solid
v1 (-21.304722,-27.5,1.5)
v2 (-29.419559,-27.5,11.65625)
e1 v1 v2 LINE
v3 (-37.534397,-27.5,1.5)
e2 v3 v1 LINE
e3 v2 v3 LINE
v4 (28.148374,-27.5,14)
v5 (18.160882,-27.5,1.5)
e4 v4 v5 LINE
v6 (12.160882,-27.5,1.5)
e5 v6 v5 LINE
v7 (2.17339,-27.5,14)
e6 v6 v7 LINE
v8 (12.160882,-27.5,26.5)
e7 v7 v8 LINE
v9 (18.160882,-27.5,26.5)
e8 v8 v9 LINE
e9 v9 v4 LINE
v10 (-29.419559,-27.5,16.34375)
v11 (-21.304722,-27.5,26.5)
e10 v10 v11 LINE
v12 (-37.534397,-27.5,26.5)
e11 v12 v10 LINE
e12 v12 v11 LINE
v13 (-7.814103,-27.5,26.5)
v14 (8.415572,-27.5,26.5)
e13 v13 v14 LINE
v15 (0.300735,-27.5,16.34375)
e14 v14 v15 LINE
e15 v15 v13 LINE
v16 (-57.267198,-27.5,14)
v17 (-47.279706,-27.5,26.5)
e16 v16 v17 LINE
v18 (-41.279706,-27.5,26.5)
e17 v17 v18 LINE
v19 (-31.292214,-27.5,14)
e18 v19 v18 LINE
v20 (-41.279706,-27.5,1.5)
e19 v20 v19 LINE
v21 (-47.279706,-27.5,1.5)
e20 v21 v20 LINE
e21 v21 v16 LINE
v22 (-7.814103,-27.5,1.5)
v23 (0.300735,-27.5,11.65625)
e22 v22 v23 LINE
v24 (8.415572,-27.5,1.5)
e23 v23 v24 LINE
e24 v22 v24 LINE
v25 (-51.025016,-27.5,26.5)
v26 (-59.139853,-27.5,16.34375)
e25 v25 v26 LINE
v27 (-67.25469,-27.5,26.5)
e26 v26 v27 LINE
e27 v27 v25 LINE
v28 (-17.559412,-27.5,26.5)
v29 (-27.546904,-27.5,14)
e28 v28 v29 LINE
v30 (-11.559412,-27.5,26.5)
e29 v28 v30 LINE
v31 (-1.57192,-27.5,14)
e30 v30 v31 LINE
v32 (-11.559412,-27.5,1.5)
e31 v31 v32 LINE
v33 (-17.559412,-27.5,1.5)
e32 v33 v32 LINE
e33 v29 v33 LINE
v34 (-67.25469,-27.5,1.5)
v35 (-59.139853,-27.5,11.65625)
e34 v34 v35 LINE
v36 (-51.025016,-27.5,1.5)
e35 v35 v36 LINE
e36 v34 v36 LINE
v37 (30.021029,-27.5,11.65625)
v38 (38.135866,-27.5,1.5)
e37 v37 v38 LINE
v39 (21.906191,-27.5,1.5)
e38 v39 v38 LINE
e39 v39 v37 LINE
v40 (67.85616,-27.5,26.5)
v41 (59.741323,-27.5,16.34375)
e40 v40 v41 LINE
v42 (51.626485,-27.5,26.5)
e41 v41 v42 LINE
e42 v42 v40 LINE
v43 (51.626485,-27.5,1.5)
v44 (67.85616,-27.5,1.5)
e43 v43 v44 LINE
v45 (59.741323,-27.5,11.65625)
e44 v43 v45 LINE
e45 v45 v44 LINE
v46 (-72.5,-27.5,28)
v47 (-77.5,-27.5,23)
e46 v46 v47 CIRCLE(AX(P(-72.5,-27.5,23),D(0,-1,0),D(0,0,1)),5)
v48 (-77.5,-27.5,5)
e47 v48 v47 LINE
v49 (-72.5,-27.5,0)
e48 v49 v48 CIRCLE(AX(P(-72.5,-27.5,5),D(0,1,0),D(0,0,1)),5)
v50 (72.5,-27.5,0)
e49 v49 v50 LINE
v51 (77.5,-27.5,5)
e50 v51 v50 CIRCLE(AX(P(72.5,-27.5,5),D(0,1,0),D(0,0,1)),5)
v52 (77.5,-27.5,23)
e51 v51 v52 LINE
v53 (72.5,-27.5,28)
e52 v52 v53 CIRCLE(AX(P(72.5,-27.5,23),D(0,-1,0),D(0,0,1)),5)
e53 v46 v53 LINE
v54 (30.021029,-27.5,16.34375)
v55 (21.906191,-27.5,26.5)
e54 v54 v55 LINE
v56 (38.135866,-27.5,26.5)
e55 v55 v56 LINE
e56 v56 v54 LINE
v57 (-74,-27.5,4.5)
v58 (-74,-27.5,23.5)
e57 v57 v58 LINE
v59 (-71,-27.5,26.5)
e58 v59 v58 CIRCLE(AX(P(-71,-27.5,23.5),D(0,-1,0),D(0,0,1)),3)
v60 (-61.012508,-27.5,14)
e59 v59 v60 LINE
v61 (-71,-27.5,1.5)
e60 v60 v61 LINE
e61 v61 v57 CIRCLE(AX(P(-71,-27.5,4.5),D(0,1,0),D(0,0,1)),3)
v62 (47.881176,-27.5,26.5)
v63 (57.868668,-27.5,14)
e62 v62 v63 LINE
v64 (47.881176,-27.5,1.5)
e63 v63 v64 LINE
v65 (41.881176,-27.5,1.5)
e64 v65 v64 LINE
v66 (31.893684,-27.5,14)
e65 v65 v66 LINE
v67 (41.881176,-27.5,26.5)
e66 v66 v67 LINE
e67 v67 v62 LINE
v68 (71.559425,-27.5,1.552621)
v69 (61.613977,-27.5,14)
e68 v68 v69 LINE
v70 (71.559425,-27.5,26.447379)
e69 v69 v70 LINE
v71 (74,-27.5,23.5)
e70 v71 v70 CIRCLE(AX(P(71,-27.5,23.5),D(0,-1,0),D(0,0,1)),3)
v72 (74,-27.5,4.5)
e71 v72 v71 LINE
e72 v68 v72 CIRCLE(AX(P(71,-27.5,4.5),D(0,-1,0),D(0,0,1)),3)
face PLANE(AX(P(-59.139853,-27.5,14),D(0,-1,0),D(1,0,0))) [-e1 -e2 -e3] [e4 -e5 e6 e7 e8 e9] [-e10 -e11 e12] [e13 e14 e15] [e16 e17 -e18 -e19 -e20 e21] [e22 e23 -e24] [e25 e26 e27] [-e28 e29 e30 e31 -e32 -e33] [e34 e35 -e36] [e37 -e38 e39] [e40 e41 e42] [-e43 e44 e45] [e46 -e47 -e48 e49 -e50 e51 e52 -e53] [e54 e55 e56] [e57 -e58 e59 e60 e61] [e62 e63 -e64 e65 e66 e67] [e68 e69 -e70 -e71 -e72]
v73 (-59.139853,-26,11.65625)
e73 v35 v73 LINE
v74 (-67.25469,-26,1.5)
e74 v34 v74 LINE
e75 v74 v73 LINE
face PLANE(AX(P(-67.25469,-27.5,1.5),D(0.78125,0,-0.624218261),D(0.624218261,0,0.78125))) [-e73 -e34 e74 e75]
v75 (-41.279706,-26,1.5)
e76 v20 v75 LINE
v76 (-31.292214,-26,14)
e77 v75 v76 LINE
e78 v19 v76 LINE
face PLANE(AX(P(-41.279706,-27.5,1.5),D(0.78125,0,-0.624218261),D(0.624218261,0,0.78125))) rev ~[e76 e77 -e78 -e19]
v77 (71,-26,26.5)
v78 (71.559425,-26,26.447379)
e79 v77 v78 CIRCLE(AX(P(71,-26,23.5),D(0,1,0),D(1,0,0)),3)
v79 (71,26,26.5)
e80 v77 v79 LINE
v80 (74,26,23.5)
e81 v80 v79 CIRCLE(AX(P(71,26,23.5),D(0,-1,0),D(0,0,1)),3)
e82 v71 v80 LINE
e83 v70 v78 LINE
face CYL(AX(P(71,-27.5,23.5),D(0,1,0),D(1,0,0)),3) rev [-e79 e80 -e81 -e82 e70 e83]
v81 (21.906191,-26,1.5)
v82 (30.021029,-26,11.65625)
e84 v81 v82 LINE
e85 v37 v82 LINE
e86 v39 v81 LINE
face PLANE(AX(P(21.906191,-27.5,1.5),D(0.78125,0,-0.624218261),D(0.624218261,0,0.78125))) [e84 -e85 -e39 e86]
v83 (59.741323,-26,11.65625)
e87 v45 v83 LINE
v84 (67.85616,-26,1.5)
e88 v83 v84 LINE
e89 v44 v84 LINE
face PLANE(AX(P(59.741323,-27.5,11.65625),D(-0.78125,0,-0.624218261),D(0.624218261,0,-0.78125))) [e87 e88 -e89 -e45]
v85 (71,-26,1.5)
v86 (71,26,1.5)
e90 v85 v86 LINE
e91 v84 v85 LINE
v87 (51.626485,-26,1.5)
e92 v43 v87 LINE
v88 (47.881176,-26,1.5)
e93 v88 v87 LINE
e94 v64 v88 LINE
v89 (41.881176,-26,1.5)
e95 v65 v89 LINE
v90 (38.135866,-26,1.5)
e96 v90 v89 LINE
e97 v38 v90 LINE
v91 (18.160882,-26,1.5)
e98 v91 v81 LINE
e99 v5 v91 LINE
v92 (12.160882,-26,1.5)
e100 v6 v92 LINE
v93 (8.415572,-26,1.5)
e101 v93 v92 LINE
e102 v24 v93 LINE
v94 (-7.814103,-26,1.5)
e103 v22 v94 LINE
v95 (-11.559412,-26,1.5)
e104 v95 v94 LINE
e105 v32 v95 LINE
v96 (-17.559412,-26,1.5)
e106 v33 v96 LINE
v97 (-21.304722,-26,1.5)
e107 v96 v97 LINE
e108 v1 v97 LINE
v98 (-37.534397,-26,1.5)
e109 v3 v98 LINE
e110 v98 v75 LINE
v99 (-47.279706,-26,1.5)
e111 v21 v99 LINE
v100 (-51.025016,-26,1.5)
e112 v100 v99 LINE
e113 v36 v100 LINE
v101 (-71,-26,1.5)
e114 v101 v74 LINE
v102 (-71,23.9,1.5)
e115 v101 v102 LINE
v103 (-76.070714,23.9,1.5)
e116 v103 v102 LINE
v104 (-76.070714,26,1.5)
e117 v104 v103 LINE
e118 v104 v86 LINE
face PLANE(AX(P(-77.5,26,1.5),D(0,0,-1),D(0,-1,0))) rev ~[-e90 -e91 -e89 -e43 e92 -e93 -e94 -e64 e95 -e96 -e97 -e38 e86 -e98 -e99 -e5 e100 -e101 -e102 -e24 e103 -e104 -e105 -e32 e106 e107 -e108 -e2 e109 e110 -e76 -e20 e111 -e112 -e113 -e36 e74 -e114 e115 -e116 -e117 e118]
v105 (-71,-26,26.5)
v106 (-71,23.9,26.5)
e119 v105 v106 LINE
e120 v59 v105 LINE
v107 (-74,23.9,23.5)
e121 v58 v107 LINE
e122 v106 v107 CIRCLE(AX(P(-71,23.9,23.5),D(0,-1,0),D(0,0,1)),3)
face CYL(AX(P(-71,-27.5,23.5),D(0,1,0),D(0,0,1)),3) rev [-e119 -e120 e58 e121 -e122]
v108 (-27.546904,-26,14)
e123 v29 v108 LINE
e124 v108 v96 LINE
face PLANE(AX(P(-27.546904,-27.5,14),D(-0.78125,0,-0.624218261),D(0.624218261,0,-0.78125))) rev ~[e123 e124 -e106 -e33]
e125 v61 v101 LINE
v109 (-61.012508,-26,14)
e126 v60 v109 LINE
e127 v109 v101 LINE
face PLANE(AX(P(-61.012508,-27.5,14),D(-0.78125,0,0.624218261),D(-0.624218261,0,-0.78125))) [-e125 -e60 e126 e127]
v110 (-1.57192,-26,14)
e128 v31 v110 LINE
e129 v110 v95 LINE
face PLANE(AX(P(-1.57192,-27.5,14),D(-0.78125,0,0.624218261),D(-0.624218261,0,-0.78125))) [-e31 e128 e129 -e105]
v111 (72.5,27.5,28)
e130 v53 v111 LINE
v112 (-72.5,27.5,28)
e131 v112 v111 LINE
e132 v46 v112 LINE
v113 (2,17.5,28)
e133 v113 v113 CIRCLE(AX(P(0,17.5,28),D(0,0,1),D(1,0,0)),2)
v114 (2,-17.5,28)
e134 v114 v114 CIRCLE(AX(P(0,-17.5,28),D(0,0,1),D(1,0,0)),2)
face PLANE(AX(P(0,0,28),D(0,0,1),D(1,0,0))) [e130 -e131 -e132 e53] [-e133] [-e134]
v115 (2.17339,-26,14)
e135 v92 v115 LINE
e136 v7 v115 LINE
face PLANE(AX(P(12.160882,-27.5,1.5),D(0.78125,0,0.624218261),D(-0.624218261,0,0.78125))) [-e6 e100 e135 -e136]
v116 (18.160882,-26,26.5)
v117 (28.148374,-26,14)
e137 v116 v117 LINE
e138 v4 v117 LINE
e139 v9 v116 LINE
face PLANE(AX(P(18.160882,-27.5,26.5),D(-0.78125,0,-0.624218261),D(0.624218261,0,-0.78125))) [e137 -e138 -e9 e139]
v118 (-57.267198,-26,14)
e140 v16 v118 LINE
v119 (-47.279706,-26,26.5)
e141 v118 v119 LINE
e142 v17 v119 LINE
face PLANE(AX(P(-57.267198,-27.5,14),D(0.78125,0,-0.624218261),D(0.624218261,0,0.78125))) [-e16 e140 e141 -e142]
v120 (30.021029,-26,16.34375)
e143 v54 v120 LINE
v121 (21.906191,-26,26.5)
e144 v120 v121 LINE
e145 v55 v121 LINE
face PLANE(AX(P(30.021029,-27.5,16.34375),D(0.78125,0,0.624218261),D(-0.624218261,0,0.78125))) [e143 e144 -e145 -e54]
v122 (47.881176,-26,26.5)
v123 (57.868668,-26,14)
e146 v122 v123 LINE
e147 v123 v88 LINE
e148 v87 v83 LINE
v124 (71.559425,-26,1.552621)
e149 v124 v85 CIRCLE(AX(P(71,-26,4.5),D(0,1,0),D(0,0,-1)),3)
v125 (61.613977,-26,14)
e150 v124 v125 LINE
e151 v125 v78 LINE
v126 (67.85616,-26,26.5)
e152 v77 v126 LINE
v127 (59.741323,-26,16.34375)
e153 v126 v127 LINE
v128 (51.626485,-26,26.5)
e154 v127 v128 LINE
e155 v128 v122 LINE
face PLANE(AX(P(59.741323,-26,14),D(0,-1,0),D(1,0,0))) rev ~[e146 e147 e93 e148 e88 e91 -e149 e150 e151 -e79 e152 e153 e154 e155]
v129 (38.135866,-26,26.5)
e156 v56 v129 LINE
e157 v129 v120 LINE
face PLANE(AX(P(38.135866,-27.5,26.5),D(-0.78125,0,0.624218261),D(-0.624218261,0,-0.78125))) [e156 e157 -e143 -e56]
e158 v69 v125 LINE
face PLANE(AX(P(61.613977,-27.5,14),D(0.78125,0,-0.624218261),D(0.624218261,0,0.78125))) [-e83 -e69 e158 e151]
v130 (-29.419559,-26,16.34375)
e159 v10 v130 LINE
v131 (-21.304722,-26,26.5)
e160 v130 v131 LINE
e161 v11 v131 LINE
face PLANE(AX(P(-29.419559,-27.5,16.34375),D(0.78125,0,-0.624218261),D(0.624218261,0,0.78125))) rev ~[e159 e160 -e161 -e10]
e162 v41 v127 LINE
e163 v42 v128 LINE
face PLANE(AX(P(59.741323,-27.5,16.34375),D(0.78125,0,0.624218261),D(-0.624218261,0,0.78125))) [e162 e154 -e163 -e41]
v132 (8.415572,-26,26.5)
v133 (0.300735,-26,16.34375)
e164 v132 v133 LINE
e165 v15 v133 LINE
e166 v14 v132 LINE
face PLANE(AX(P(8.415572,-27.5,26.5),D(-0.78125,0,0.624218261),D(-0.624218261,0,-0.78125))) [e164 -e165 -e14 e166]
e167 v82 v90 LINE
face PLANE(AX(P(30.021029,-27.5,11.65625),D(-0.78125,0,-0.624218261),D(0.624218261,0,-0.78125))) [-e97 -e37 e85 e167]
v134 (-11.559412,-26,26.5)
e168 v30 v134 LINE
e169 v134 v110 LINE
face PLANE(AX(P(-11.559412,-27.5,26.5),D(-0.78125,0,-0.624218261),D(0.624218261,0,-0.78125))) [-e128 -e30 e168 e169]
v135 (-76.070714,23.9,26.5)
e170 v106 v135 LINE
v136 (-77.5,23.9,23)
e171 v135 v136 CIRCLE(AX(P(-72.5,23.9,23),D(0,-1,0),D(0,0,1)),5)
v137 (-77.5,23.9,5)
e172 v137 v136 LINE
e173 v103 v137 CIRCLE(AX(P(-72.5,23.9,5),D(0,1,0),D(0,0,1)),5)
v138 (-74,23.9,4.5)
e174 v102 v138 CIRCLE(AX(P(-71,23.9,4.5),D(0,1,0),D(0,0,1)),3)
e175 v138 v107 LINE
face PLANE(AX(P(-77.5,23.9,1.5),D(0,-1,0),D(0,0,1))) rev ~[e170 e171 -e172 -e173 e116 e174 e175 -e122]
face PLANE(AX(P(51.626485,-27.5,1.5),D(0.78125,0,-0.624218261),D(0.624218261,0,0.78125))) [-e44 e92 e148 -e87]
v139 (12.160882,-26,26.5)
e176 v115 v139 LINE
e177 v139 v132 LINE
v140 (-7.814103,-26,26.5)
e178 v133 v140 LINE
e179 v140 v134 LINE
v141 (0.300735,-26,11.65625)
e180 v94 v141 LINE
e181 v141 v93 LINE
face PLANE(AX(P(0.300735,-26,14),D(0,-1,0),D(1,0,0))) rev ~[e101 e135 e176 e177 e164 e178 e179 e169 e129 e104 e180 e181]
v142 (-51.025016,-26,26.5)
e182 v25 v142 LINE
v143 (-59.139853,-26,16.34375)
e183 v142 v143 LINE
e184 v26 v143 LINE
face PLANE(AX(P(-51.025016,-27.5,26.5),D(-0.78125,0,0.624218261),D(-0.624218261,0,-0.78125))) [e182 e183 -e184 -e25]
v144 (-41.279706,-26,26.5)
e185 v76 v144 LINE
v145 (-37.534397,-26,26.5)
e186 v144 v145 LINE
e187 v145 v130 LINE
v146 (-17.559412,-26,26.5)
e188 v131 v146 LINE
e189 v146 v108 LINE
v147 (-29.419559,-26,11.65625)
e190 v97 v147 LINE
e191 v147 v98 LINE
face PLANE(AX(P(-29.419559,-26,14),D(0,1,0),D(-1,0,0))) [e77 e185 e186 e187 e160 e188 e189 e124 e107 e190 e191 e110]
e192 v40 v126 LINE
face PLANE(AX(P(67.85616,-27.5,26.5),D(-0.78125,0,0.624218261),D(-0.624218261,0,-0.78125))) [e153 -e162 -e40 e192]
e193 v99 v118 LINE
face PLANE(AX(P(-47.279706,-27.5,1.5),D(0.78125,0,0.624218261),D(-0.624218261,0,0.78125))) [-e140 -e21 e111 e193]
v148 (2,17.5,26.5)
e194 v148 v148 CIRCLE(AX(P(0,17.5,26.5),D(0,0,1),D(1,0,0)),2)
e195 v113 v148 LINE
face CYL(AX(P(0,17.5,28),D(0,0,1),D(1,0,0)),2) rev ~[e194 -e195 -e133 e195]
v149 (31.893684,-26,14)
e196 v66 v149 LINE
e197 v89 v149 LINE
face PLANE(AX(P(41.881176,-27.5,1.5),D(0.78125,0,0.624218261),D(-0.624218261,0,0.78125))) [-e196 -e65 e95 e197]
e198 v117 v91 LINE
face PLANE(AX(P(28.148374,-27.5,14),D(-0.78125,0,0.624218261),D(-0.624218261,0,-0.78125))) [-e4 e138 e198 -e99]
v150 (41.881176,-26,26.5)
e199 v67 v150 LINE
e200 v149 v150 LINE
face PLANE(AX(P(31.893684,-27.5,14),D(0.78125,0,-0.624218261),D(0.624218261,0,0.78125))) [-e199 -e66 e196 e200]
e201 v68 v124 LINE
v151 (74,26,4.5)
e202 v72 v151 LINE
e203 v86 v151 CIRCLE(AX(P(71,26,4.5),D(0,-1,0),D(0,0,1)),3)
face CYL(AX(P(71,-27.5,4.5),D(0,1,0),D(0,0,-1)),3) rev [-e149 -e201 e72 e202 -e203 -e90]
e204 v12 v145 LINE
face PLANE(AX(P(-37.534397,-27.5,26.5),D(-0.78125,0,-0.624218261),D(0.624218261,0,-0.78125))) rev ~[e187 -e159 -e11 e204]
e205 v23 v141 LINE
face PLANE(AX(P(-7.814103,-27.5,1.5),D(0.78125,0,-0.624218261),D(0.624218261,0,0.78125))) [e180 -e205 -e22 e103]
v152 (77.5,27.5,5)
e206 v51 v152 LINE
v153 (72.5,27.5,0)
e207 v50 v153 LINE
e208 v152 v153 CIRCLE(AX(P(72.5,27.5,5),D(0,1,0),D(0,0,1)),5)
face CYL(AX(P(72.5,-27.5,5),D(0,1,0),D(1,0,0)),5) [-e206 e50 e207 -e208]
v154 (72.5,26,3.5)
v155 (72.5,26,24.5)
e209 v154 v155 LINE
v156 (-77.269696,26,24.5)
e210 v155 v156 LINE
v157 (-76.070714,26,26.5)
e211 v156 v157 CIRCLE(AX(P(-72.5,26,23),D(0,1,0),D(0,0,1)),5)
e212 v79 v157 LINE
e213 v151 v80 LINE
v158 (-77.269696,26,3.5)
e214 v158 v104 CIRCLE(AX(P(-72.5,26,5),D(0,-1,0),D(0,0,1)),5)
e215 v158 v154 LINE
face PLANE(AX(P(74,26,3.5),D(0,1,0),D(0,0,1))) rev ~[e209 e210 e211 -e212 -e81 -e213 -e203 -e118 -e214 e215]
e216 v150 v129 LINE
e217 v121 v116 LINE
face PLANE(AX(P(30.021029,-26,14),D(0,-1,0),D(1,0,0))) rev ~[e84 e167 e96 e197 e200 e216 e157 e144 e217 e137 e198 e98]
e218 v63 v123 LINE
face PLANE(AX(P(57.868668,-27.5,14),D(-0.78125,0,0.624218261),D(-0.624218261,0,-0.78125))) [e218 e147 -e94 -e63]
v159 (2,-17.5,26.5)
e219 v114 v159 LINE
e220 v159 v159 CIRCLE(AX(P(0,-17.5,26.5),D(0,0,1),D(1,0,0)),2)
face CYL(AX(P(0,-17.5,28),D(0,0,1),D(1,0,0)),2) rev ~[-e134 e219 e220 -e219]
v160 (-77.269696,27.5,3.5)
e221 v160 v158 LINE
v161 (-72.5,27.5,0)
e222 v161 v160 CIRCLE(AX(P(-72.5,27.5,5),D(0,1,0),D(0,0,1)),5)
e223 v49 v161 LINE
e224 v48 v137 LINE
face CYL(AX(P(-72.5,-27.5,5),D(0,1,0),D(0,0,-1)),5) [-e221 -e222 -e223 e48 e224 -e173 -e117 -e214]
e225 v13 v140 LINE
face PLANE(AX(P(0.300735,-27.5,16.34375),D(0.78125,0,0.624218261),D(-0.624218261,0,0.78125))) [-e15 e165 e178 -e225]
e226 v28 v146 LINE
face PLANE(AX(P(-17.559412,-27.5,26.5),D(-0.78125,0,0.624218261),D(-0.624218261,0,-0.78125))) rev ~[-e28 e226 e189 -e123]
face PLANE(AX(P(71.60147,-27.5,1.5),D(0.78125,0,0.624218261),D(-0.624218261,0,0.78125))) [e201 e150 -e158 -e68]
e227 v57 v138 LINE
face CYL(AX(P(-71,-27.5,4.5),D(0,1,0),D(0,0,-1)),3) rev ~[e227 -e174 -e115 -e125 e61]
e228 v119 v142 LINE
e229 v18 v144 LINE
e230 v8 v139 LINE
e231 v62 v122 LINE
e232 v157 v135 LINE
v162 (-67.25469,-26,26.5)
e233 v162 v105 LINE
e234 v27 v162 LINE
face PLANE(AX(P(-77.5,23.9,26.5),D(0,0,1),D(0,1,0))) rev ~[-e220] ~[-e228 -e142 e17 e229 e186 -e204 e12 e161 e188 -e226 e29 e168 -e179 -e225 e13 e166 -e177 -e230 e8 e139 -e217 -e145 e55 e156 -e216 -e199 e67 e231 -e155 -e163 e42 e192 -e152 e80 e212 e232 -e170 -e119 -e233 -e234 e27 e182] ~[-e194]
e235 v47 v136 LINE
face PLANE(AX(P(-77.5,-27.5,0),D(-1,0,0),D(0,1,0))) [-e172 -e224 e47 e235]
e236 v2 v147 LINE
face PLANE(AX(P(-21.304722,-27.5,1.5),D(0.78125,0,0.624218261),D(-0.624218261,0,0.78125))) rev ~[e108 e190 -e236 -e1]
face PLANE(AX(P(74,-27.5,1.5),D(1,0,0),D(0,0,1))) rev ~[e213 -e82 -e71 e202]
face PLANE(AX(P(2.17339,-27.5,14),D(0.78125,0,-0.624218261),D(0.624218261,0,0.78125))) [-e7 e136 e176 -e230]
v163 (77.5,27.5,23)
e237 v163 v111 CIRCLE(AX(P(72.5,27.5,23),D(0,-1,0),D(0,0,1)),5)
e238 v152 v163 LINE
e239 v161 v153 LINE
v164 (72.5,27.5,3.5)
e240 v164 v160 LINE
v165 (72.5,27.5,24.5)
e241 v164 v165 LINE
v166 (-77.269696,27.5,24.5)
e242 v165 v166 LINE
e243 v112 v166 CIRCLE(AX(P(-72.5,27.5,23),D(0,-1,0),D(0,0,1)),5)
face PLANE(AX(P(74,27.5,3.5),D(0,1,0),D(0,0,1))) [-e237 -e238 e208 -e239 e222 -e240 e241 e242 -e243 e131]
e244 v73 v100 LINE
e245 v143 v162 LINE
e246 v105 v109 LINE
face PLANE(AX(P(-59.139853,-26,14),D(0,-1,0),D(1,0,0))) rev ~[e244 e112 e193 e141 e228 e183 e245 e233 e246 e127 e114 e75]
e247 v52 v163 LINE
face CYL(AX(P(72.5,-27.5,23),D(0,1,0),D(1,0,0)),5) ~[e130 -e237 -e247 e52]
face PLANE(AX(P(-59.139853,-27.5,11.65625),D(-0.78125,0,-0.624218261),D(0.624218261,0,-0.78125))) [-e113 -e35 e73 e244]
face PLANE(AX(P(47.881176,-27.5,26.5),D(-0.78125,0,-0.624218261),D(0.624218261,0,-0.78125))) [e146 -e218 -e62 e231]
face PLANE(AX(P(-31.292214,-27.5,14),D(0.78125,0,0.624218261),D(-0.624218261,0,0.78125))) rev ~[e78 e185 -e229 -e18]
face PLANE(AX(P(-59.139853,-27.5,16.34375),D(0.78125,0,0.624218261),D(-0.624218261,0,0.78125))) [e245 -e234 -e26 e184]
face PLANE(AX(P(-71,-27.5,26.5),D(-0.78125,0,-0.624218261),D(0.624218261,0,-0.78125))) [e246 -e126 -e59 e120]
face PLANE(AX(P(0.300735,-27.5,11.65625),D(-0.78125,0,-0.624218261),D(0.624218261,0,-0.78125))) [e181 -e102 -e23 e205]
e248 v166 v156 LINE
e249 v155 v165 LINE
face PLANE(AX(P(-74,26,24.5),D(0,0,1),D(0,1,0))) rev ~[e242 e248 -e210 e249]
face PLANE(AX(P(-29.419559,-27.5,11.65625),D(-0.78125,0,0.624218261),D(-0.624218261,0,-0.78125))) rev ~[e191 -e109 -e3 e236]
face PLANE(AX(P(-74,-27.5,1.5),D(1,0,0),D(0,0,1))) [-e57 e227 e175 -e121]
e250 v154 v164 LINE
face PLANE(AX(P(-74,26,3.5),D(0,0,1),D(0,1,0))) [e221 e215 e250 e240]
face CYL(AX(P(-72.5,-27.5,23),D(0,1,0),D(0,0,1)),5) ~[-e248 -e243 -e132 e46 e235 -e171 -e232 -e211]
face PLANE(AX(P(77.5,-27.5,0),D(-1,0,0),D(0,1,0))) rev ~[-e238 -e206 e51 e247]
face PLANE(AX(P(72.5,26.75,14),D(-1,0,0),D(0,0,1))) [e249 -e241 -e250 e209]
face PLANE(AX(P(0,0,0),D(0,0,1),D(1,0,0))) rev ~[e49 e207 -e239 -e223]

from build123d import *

# Parameters (mm, degrees)
ESBO_O1_W                = 155
ESBO_O1_H                = 55
RESSALTO_EXTRUS_O1_DEPTH = 28
ESBO_O3_W                = 148
ESBO_O3_H                = 25
CORTE_EXTRUS_O1_DEPTH    = 100.071943556
CORTE_EXTRUS_O2_REACH    = 161.891
RESSALTO_EXTRUS_O2_REACH = 158.501
ESBO_O6_W                = 2
ESBO_O6_H                = 1.5
RESSALTO_EXTRUS_O3_REACH = 158.501
ESBO_O7_W                = 2
ESBO_O7_H                = 1.5
ESBO_O9_W                = 21
ESBO_O9_H                = 1.5
RESSALTO_EXTRUS_O4_DEPTH = 1.5
FILETE1_R                = 5
FILETE2_R                = 3
RESSALTO_EXTRUS_O5_DEPTH = 1.5
CORTE_EXTRUS_O5_REACH    = 88.871
ESBO_O15_R               = 2


with BuildPart() as part:
    # Esboço1 → Ressalto-extrusão1 (new body)
    with BuildSketch(Plane.XY):
        Rectangle(ESBO_O1_W, ESBO_O1_H)
    extrude(amount=RESSALTO_EXTRUS_O1_DEPTH)

    # Esboço3 → Corte-extrusão1 (cut, through all)
    with BuildSketch(Plane.XZ.offset(27.5)):
        with Locations((0, 14)):
            Rectangle(ESBO_O3_W, ESBO_O3_H)
    extrude(amount=-CORTE_EXTRUS_O1_DEPTH, mode=Mode.SUBTRACT)

    # Esboço4 → Corte-extrusão2 (cut, up to next)
    with BuildSketch(Plane.ZY.offset(77.5), mode=Mode.PRIVATE) as corte_extrus_o2_sk1:
        Polygon((3.5, 27.5), (3.5, 26), (1.5, 26), (1.5, 23.9), (26.5, 23.9), (26.5, 26), (24.5, 26), (24.5, 27.5), align=None)
    corte_extrus_o2_tool1 = extrude(corte_extrus_o2_sk1.sketch, amount=-CORTE_EXTRUS_O2_REACH, mode=Mode.PRIVATE) & part.part
    add(corte_extrus_o2_tool1.solids().sort_by_distance((-77.5, 25.625, 14))[0], mode=Mode.SUBTRACT)

    # Esboço6 → Ressalto-extrusão2 (add, up to next)
    with BuildSketch(Plane(origin=(-74, 0, 0), x_dir=(0, 0, -1), z_dir=(1, 0, 0)), mode=Mode.PRIVATE) as ressalto_extrus_o2_sk1:
        with Locations((-2.5, 26.75)):
            Rectangle(ESBO_O6_W, ESBO_O6_H)
    ressalto_extrus_o2_tool1 = extrude(ressalto_extrus_o2_sk1.sketch, amount=RESSALTO_EXTRUS_O2_REACH, mode=Mode.PRIVATE) - part.part
    add(ressalto_extrus_o2_tool1.solids().sort_by_distance((-74, 26.75, 2.5))[0])

    # Esboço7 → Ressalto-extrusão3 (add, up to next)
    with BuildSketch(Plane(origin=(-74, 0, 0), x_dir=(0, 0, -1), z_dir=(1, 0, 0)), mode=Mode.PRIVATE) as ressalto_extrus_o3_sk1:
        with Locations((-25.5, 26.75)):
            Rectangle(ESBO_O7_W, ESBO_O7_H)
    ressalto_extrus_o3_tool1 = extrude(ressalto_extrus_o3_sk1.sketch, amount=RESSALTO_EXTRUS_O3_REACH, mode=Mode.PRIVATE) - part.part
    add(ressalto_extrus_o3_tool1.solids().sort_by_distance((-74, 26.75, 25.5))[0])

    # Esboço9 → Ressalto-extrusão4 (add)
    with BuildSketch(Plane.ZY.offset(-74)):
        with Locations((14, 26.75)):
            Rectangle(ESBO_O9_W, ESBO_O9_H)
    extrude(amount=RESSALTO_EXTRUS_O4_DEPTH)

    # Filete1
    filete1_edges = [part.edges().sort_by_distance(p)[0] for p in [
        (-77.5, 0, 28),
        (-77.5, 0, 0),
        (77.5, 0, 0),
        (77.5, 0, 28),
    ]]
    fillet(filete1_edges, radius=FILETE1_R)

    # Filete2
    filete2_edges = [part.edges().sort_by_distance(p)[0] for p in [
        (-74, -1.8, 26.5),
        (-74, -1.8, 1.5),
        (74, -0.75, 1.5),
        (74, -0.75, 26.5),
    ]]
    fillet(filete2_edges, radius=FILETE2_R)

    # Esboço12 → Ressalto-extrusão5 (add)
    with BuildSketch(Plane.XZ.offset(27.5)):
        Polygon((-21.304721722, 26.5), (-17.559412156, 26.5), (-27.546904334, 14), (-17.559412156, 1.5), (-21.304721722, 1.5), (-29.419559117, 11.65625), (-37.534396511, 1.5), (-41.279706078, 1.5), (-31.2922139, 14), (-41.279706078, 26.5), (-37.534396511, 26.5), (-29.419559117, 16.34375), align=None)
        Polygon((-71, 26.5), (-61.012507822, 14), (-71, 1.5), (-67.254690433, 1.5), (-59.139853039, 11.65625), (-51.025015645, 1.5), (-47.279706078, 1.5), (-57.267198256, 14), (-47.279706078, 26.5), (-51.025015645, 26.5), (-59.139853039, 16.34375), (-67.254690433, 26.5), align=None)
        Polygon((0.300734805, 16.34375), (-7.814102589, 26.5), (-11.559412156, 26.5), (-1.571919978, 14), (-11.559412156, 1.5), (-7.814102589, 1.5), (0.300734805, 11.65625), (8.4155722, 1.5), (12.160881766, 1.5), (2.173389589, 14), (12.160881766, 26.5), (8.4155722, 26.5), align=None)
        Polygon((30.021028727, 16.34375), (21.906191333, 26.5), (18.160881766, 26.5), (28.148373944, 14), (18.160881766, 1.5), (21.906191333, 1.5), (30.021028727, 11.65625), (38.135866122, 1.5), (41.881175688, 1.5), (31.893683511, 14), (41.881175688, 26.5), (38.135866122, 26.5), align=None)
        Polygon((59.741322649, 16.34375), (51.626485255, 26.5), (47.881175688, 26.5), (57.868667866, 14), (47.881175688, 1.5), (51.626485255, 1.5), (59.741322649, 11.65625), (67.856160044, 1.5), (71.60146961, 1.5), (61.613977433, 14), (71.60146961, 26.5), (67.856160044, 26.5), align=None)
    extrude(amount=-RESSALTO_EXTRUS_O5_DEPTH)

    # Esboço15 → Corte-extrusão5 (cut, up to next)
    with BuildSketch(Plane.XY.offset(28), mode=Mode.PRIVATE) as corte_extrus_o5_sk1:
        with Locations((0, 17.5)):
            Circle(ESBO_O15_R)
    corte_extrus_o5_tool1 = extrude(corte_extrus_o5_sk1.sketch, amount=-CORTE_EXTRUS_O5_REACH, mode=Mode.PRIVATE) & part.part
    # Esboço15 → Corte-extrusão5 (cut, up to next)
    with BuildSketch(Plane.XY.offset(28), mode=Mode.PRIVATE) as corte_extrus_o5_sk2:
        with Locations((0, -17.5)):
            Circle(ESBO_O15_R)
    corte_extrus_o5_tool2 = extrude(corte_extrus_o5_sk2.sketch, amount=-CORTE_EXTRUS_O5_REACH, mode=Mode.PRIVATE) & part.part
    add(corte_extrus_o5_tool1.solids().sort_by_distance((0, 17.5, 28))[0], mode=Mode.SUBTRACT)
    add(corte_extrus_o5_tool2.solids().sort_by_distance((0, -17.5, 28))[0], mode=Mode.SUBTRACT)


solid = part.part
